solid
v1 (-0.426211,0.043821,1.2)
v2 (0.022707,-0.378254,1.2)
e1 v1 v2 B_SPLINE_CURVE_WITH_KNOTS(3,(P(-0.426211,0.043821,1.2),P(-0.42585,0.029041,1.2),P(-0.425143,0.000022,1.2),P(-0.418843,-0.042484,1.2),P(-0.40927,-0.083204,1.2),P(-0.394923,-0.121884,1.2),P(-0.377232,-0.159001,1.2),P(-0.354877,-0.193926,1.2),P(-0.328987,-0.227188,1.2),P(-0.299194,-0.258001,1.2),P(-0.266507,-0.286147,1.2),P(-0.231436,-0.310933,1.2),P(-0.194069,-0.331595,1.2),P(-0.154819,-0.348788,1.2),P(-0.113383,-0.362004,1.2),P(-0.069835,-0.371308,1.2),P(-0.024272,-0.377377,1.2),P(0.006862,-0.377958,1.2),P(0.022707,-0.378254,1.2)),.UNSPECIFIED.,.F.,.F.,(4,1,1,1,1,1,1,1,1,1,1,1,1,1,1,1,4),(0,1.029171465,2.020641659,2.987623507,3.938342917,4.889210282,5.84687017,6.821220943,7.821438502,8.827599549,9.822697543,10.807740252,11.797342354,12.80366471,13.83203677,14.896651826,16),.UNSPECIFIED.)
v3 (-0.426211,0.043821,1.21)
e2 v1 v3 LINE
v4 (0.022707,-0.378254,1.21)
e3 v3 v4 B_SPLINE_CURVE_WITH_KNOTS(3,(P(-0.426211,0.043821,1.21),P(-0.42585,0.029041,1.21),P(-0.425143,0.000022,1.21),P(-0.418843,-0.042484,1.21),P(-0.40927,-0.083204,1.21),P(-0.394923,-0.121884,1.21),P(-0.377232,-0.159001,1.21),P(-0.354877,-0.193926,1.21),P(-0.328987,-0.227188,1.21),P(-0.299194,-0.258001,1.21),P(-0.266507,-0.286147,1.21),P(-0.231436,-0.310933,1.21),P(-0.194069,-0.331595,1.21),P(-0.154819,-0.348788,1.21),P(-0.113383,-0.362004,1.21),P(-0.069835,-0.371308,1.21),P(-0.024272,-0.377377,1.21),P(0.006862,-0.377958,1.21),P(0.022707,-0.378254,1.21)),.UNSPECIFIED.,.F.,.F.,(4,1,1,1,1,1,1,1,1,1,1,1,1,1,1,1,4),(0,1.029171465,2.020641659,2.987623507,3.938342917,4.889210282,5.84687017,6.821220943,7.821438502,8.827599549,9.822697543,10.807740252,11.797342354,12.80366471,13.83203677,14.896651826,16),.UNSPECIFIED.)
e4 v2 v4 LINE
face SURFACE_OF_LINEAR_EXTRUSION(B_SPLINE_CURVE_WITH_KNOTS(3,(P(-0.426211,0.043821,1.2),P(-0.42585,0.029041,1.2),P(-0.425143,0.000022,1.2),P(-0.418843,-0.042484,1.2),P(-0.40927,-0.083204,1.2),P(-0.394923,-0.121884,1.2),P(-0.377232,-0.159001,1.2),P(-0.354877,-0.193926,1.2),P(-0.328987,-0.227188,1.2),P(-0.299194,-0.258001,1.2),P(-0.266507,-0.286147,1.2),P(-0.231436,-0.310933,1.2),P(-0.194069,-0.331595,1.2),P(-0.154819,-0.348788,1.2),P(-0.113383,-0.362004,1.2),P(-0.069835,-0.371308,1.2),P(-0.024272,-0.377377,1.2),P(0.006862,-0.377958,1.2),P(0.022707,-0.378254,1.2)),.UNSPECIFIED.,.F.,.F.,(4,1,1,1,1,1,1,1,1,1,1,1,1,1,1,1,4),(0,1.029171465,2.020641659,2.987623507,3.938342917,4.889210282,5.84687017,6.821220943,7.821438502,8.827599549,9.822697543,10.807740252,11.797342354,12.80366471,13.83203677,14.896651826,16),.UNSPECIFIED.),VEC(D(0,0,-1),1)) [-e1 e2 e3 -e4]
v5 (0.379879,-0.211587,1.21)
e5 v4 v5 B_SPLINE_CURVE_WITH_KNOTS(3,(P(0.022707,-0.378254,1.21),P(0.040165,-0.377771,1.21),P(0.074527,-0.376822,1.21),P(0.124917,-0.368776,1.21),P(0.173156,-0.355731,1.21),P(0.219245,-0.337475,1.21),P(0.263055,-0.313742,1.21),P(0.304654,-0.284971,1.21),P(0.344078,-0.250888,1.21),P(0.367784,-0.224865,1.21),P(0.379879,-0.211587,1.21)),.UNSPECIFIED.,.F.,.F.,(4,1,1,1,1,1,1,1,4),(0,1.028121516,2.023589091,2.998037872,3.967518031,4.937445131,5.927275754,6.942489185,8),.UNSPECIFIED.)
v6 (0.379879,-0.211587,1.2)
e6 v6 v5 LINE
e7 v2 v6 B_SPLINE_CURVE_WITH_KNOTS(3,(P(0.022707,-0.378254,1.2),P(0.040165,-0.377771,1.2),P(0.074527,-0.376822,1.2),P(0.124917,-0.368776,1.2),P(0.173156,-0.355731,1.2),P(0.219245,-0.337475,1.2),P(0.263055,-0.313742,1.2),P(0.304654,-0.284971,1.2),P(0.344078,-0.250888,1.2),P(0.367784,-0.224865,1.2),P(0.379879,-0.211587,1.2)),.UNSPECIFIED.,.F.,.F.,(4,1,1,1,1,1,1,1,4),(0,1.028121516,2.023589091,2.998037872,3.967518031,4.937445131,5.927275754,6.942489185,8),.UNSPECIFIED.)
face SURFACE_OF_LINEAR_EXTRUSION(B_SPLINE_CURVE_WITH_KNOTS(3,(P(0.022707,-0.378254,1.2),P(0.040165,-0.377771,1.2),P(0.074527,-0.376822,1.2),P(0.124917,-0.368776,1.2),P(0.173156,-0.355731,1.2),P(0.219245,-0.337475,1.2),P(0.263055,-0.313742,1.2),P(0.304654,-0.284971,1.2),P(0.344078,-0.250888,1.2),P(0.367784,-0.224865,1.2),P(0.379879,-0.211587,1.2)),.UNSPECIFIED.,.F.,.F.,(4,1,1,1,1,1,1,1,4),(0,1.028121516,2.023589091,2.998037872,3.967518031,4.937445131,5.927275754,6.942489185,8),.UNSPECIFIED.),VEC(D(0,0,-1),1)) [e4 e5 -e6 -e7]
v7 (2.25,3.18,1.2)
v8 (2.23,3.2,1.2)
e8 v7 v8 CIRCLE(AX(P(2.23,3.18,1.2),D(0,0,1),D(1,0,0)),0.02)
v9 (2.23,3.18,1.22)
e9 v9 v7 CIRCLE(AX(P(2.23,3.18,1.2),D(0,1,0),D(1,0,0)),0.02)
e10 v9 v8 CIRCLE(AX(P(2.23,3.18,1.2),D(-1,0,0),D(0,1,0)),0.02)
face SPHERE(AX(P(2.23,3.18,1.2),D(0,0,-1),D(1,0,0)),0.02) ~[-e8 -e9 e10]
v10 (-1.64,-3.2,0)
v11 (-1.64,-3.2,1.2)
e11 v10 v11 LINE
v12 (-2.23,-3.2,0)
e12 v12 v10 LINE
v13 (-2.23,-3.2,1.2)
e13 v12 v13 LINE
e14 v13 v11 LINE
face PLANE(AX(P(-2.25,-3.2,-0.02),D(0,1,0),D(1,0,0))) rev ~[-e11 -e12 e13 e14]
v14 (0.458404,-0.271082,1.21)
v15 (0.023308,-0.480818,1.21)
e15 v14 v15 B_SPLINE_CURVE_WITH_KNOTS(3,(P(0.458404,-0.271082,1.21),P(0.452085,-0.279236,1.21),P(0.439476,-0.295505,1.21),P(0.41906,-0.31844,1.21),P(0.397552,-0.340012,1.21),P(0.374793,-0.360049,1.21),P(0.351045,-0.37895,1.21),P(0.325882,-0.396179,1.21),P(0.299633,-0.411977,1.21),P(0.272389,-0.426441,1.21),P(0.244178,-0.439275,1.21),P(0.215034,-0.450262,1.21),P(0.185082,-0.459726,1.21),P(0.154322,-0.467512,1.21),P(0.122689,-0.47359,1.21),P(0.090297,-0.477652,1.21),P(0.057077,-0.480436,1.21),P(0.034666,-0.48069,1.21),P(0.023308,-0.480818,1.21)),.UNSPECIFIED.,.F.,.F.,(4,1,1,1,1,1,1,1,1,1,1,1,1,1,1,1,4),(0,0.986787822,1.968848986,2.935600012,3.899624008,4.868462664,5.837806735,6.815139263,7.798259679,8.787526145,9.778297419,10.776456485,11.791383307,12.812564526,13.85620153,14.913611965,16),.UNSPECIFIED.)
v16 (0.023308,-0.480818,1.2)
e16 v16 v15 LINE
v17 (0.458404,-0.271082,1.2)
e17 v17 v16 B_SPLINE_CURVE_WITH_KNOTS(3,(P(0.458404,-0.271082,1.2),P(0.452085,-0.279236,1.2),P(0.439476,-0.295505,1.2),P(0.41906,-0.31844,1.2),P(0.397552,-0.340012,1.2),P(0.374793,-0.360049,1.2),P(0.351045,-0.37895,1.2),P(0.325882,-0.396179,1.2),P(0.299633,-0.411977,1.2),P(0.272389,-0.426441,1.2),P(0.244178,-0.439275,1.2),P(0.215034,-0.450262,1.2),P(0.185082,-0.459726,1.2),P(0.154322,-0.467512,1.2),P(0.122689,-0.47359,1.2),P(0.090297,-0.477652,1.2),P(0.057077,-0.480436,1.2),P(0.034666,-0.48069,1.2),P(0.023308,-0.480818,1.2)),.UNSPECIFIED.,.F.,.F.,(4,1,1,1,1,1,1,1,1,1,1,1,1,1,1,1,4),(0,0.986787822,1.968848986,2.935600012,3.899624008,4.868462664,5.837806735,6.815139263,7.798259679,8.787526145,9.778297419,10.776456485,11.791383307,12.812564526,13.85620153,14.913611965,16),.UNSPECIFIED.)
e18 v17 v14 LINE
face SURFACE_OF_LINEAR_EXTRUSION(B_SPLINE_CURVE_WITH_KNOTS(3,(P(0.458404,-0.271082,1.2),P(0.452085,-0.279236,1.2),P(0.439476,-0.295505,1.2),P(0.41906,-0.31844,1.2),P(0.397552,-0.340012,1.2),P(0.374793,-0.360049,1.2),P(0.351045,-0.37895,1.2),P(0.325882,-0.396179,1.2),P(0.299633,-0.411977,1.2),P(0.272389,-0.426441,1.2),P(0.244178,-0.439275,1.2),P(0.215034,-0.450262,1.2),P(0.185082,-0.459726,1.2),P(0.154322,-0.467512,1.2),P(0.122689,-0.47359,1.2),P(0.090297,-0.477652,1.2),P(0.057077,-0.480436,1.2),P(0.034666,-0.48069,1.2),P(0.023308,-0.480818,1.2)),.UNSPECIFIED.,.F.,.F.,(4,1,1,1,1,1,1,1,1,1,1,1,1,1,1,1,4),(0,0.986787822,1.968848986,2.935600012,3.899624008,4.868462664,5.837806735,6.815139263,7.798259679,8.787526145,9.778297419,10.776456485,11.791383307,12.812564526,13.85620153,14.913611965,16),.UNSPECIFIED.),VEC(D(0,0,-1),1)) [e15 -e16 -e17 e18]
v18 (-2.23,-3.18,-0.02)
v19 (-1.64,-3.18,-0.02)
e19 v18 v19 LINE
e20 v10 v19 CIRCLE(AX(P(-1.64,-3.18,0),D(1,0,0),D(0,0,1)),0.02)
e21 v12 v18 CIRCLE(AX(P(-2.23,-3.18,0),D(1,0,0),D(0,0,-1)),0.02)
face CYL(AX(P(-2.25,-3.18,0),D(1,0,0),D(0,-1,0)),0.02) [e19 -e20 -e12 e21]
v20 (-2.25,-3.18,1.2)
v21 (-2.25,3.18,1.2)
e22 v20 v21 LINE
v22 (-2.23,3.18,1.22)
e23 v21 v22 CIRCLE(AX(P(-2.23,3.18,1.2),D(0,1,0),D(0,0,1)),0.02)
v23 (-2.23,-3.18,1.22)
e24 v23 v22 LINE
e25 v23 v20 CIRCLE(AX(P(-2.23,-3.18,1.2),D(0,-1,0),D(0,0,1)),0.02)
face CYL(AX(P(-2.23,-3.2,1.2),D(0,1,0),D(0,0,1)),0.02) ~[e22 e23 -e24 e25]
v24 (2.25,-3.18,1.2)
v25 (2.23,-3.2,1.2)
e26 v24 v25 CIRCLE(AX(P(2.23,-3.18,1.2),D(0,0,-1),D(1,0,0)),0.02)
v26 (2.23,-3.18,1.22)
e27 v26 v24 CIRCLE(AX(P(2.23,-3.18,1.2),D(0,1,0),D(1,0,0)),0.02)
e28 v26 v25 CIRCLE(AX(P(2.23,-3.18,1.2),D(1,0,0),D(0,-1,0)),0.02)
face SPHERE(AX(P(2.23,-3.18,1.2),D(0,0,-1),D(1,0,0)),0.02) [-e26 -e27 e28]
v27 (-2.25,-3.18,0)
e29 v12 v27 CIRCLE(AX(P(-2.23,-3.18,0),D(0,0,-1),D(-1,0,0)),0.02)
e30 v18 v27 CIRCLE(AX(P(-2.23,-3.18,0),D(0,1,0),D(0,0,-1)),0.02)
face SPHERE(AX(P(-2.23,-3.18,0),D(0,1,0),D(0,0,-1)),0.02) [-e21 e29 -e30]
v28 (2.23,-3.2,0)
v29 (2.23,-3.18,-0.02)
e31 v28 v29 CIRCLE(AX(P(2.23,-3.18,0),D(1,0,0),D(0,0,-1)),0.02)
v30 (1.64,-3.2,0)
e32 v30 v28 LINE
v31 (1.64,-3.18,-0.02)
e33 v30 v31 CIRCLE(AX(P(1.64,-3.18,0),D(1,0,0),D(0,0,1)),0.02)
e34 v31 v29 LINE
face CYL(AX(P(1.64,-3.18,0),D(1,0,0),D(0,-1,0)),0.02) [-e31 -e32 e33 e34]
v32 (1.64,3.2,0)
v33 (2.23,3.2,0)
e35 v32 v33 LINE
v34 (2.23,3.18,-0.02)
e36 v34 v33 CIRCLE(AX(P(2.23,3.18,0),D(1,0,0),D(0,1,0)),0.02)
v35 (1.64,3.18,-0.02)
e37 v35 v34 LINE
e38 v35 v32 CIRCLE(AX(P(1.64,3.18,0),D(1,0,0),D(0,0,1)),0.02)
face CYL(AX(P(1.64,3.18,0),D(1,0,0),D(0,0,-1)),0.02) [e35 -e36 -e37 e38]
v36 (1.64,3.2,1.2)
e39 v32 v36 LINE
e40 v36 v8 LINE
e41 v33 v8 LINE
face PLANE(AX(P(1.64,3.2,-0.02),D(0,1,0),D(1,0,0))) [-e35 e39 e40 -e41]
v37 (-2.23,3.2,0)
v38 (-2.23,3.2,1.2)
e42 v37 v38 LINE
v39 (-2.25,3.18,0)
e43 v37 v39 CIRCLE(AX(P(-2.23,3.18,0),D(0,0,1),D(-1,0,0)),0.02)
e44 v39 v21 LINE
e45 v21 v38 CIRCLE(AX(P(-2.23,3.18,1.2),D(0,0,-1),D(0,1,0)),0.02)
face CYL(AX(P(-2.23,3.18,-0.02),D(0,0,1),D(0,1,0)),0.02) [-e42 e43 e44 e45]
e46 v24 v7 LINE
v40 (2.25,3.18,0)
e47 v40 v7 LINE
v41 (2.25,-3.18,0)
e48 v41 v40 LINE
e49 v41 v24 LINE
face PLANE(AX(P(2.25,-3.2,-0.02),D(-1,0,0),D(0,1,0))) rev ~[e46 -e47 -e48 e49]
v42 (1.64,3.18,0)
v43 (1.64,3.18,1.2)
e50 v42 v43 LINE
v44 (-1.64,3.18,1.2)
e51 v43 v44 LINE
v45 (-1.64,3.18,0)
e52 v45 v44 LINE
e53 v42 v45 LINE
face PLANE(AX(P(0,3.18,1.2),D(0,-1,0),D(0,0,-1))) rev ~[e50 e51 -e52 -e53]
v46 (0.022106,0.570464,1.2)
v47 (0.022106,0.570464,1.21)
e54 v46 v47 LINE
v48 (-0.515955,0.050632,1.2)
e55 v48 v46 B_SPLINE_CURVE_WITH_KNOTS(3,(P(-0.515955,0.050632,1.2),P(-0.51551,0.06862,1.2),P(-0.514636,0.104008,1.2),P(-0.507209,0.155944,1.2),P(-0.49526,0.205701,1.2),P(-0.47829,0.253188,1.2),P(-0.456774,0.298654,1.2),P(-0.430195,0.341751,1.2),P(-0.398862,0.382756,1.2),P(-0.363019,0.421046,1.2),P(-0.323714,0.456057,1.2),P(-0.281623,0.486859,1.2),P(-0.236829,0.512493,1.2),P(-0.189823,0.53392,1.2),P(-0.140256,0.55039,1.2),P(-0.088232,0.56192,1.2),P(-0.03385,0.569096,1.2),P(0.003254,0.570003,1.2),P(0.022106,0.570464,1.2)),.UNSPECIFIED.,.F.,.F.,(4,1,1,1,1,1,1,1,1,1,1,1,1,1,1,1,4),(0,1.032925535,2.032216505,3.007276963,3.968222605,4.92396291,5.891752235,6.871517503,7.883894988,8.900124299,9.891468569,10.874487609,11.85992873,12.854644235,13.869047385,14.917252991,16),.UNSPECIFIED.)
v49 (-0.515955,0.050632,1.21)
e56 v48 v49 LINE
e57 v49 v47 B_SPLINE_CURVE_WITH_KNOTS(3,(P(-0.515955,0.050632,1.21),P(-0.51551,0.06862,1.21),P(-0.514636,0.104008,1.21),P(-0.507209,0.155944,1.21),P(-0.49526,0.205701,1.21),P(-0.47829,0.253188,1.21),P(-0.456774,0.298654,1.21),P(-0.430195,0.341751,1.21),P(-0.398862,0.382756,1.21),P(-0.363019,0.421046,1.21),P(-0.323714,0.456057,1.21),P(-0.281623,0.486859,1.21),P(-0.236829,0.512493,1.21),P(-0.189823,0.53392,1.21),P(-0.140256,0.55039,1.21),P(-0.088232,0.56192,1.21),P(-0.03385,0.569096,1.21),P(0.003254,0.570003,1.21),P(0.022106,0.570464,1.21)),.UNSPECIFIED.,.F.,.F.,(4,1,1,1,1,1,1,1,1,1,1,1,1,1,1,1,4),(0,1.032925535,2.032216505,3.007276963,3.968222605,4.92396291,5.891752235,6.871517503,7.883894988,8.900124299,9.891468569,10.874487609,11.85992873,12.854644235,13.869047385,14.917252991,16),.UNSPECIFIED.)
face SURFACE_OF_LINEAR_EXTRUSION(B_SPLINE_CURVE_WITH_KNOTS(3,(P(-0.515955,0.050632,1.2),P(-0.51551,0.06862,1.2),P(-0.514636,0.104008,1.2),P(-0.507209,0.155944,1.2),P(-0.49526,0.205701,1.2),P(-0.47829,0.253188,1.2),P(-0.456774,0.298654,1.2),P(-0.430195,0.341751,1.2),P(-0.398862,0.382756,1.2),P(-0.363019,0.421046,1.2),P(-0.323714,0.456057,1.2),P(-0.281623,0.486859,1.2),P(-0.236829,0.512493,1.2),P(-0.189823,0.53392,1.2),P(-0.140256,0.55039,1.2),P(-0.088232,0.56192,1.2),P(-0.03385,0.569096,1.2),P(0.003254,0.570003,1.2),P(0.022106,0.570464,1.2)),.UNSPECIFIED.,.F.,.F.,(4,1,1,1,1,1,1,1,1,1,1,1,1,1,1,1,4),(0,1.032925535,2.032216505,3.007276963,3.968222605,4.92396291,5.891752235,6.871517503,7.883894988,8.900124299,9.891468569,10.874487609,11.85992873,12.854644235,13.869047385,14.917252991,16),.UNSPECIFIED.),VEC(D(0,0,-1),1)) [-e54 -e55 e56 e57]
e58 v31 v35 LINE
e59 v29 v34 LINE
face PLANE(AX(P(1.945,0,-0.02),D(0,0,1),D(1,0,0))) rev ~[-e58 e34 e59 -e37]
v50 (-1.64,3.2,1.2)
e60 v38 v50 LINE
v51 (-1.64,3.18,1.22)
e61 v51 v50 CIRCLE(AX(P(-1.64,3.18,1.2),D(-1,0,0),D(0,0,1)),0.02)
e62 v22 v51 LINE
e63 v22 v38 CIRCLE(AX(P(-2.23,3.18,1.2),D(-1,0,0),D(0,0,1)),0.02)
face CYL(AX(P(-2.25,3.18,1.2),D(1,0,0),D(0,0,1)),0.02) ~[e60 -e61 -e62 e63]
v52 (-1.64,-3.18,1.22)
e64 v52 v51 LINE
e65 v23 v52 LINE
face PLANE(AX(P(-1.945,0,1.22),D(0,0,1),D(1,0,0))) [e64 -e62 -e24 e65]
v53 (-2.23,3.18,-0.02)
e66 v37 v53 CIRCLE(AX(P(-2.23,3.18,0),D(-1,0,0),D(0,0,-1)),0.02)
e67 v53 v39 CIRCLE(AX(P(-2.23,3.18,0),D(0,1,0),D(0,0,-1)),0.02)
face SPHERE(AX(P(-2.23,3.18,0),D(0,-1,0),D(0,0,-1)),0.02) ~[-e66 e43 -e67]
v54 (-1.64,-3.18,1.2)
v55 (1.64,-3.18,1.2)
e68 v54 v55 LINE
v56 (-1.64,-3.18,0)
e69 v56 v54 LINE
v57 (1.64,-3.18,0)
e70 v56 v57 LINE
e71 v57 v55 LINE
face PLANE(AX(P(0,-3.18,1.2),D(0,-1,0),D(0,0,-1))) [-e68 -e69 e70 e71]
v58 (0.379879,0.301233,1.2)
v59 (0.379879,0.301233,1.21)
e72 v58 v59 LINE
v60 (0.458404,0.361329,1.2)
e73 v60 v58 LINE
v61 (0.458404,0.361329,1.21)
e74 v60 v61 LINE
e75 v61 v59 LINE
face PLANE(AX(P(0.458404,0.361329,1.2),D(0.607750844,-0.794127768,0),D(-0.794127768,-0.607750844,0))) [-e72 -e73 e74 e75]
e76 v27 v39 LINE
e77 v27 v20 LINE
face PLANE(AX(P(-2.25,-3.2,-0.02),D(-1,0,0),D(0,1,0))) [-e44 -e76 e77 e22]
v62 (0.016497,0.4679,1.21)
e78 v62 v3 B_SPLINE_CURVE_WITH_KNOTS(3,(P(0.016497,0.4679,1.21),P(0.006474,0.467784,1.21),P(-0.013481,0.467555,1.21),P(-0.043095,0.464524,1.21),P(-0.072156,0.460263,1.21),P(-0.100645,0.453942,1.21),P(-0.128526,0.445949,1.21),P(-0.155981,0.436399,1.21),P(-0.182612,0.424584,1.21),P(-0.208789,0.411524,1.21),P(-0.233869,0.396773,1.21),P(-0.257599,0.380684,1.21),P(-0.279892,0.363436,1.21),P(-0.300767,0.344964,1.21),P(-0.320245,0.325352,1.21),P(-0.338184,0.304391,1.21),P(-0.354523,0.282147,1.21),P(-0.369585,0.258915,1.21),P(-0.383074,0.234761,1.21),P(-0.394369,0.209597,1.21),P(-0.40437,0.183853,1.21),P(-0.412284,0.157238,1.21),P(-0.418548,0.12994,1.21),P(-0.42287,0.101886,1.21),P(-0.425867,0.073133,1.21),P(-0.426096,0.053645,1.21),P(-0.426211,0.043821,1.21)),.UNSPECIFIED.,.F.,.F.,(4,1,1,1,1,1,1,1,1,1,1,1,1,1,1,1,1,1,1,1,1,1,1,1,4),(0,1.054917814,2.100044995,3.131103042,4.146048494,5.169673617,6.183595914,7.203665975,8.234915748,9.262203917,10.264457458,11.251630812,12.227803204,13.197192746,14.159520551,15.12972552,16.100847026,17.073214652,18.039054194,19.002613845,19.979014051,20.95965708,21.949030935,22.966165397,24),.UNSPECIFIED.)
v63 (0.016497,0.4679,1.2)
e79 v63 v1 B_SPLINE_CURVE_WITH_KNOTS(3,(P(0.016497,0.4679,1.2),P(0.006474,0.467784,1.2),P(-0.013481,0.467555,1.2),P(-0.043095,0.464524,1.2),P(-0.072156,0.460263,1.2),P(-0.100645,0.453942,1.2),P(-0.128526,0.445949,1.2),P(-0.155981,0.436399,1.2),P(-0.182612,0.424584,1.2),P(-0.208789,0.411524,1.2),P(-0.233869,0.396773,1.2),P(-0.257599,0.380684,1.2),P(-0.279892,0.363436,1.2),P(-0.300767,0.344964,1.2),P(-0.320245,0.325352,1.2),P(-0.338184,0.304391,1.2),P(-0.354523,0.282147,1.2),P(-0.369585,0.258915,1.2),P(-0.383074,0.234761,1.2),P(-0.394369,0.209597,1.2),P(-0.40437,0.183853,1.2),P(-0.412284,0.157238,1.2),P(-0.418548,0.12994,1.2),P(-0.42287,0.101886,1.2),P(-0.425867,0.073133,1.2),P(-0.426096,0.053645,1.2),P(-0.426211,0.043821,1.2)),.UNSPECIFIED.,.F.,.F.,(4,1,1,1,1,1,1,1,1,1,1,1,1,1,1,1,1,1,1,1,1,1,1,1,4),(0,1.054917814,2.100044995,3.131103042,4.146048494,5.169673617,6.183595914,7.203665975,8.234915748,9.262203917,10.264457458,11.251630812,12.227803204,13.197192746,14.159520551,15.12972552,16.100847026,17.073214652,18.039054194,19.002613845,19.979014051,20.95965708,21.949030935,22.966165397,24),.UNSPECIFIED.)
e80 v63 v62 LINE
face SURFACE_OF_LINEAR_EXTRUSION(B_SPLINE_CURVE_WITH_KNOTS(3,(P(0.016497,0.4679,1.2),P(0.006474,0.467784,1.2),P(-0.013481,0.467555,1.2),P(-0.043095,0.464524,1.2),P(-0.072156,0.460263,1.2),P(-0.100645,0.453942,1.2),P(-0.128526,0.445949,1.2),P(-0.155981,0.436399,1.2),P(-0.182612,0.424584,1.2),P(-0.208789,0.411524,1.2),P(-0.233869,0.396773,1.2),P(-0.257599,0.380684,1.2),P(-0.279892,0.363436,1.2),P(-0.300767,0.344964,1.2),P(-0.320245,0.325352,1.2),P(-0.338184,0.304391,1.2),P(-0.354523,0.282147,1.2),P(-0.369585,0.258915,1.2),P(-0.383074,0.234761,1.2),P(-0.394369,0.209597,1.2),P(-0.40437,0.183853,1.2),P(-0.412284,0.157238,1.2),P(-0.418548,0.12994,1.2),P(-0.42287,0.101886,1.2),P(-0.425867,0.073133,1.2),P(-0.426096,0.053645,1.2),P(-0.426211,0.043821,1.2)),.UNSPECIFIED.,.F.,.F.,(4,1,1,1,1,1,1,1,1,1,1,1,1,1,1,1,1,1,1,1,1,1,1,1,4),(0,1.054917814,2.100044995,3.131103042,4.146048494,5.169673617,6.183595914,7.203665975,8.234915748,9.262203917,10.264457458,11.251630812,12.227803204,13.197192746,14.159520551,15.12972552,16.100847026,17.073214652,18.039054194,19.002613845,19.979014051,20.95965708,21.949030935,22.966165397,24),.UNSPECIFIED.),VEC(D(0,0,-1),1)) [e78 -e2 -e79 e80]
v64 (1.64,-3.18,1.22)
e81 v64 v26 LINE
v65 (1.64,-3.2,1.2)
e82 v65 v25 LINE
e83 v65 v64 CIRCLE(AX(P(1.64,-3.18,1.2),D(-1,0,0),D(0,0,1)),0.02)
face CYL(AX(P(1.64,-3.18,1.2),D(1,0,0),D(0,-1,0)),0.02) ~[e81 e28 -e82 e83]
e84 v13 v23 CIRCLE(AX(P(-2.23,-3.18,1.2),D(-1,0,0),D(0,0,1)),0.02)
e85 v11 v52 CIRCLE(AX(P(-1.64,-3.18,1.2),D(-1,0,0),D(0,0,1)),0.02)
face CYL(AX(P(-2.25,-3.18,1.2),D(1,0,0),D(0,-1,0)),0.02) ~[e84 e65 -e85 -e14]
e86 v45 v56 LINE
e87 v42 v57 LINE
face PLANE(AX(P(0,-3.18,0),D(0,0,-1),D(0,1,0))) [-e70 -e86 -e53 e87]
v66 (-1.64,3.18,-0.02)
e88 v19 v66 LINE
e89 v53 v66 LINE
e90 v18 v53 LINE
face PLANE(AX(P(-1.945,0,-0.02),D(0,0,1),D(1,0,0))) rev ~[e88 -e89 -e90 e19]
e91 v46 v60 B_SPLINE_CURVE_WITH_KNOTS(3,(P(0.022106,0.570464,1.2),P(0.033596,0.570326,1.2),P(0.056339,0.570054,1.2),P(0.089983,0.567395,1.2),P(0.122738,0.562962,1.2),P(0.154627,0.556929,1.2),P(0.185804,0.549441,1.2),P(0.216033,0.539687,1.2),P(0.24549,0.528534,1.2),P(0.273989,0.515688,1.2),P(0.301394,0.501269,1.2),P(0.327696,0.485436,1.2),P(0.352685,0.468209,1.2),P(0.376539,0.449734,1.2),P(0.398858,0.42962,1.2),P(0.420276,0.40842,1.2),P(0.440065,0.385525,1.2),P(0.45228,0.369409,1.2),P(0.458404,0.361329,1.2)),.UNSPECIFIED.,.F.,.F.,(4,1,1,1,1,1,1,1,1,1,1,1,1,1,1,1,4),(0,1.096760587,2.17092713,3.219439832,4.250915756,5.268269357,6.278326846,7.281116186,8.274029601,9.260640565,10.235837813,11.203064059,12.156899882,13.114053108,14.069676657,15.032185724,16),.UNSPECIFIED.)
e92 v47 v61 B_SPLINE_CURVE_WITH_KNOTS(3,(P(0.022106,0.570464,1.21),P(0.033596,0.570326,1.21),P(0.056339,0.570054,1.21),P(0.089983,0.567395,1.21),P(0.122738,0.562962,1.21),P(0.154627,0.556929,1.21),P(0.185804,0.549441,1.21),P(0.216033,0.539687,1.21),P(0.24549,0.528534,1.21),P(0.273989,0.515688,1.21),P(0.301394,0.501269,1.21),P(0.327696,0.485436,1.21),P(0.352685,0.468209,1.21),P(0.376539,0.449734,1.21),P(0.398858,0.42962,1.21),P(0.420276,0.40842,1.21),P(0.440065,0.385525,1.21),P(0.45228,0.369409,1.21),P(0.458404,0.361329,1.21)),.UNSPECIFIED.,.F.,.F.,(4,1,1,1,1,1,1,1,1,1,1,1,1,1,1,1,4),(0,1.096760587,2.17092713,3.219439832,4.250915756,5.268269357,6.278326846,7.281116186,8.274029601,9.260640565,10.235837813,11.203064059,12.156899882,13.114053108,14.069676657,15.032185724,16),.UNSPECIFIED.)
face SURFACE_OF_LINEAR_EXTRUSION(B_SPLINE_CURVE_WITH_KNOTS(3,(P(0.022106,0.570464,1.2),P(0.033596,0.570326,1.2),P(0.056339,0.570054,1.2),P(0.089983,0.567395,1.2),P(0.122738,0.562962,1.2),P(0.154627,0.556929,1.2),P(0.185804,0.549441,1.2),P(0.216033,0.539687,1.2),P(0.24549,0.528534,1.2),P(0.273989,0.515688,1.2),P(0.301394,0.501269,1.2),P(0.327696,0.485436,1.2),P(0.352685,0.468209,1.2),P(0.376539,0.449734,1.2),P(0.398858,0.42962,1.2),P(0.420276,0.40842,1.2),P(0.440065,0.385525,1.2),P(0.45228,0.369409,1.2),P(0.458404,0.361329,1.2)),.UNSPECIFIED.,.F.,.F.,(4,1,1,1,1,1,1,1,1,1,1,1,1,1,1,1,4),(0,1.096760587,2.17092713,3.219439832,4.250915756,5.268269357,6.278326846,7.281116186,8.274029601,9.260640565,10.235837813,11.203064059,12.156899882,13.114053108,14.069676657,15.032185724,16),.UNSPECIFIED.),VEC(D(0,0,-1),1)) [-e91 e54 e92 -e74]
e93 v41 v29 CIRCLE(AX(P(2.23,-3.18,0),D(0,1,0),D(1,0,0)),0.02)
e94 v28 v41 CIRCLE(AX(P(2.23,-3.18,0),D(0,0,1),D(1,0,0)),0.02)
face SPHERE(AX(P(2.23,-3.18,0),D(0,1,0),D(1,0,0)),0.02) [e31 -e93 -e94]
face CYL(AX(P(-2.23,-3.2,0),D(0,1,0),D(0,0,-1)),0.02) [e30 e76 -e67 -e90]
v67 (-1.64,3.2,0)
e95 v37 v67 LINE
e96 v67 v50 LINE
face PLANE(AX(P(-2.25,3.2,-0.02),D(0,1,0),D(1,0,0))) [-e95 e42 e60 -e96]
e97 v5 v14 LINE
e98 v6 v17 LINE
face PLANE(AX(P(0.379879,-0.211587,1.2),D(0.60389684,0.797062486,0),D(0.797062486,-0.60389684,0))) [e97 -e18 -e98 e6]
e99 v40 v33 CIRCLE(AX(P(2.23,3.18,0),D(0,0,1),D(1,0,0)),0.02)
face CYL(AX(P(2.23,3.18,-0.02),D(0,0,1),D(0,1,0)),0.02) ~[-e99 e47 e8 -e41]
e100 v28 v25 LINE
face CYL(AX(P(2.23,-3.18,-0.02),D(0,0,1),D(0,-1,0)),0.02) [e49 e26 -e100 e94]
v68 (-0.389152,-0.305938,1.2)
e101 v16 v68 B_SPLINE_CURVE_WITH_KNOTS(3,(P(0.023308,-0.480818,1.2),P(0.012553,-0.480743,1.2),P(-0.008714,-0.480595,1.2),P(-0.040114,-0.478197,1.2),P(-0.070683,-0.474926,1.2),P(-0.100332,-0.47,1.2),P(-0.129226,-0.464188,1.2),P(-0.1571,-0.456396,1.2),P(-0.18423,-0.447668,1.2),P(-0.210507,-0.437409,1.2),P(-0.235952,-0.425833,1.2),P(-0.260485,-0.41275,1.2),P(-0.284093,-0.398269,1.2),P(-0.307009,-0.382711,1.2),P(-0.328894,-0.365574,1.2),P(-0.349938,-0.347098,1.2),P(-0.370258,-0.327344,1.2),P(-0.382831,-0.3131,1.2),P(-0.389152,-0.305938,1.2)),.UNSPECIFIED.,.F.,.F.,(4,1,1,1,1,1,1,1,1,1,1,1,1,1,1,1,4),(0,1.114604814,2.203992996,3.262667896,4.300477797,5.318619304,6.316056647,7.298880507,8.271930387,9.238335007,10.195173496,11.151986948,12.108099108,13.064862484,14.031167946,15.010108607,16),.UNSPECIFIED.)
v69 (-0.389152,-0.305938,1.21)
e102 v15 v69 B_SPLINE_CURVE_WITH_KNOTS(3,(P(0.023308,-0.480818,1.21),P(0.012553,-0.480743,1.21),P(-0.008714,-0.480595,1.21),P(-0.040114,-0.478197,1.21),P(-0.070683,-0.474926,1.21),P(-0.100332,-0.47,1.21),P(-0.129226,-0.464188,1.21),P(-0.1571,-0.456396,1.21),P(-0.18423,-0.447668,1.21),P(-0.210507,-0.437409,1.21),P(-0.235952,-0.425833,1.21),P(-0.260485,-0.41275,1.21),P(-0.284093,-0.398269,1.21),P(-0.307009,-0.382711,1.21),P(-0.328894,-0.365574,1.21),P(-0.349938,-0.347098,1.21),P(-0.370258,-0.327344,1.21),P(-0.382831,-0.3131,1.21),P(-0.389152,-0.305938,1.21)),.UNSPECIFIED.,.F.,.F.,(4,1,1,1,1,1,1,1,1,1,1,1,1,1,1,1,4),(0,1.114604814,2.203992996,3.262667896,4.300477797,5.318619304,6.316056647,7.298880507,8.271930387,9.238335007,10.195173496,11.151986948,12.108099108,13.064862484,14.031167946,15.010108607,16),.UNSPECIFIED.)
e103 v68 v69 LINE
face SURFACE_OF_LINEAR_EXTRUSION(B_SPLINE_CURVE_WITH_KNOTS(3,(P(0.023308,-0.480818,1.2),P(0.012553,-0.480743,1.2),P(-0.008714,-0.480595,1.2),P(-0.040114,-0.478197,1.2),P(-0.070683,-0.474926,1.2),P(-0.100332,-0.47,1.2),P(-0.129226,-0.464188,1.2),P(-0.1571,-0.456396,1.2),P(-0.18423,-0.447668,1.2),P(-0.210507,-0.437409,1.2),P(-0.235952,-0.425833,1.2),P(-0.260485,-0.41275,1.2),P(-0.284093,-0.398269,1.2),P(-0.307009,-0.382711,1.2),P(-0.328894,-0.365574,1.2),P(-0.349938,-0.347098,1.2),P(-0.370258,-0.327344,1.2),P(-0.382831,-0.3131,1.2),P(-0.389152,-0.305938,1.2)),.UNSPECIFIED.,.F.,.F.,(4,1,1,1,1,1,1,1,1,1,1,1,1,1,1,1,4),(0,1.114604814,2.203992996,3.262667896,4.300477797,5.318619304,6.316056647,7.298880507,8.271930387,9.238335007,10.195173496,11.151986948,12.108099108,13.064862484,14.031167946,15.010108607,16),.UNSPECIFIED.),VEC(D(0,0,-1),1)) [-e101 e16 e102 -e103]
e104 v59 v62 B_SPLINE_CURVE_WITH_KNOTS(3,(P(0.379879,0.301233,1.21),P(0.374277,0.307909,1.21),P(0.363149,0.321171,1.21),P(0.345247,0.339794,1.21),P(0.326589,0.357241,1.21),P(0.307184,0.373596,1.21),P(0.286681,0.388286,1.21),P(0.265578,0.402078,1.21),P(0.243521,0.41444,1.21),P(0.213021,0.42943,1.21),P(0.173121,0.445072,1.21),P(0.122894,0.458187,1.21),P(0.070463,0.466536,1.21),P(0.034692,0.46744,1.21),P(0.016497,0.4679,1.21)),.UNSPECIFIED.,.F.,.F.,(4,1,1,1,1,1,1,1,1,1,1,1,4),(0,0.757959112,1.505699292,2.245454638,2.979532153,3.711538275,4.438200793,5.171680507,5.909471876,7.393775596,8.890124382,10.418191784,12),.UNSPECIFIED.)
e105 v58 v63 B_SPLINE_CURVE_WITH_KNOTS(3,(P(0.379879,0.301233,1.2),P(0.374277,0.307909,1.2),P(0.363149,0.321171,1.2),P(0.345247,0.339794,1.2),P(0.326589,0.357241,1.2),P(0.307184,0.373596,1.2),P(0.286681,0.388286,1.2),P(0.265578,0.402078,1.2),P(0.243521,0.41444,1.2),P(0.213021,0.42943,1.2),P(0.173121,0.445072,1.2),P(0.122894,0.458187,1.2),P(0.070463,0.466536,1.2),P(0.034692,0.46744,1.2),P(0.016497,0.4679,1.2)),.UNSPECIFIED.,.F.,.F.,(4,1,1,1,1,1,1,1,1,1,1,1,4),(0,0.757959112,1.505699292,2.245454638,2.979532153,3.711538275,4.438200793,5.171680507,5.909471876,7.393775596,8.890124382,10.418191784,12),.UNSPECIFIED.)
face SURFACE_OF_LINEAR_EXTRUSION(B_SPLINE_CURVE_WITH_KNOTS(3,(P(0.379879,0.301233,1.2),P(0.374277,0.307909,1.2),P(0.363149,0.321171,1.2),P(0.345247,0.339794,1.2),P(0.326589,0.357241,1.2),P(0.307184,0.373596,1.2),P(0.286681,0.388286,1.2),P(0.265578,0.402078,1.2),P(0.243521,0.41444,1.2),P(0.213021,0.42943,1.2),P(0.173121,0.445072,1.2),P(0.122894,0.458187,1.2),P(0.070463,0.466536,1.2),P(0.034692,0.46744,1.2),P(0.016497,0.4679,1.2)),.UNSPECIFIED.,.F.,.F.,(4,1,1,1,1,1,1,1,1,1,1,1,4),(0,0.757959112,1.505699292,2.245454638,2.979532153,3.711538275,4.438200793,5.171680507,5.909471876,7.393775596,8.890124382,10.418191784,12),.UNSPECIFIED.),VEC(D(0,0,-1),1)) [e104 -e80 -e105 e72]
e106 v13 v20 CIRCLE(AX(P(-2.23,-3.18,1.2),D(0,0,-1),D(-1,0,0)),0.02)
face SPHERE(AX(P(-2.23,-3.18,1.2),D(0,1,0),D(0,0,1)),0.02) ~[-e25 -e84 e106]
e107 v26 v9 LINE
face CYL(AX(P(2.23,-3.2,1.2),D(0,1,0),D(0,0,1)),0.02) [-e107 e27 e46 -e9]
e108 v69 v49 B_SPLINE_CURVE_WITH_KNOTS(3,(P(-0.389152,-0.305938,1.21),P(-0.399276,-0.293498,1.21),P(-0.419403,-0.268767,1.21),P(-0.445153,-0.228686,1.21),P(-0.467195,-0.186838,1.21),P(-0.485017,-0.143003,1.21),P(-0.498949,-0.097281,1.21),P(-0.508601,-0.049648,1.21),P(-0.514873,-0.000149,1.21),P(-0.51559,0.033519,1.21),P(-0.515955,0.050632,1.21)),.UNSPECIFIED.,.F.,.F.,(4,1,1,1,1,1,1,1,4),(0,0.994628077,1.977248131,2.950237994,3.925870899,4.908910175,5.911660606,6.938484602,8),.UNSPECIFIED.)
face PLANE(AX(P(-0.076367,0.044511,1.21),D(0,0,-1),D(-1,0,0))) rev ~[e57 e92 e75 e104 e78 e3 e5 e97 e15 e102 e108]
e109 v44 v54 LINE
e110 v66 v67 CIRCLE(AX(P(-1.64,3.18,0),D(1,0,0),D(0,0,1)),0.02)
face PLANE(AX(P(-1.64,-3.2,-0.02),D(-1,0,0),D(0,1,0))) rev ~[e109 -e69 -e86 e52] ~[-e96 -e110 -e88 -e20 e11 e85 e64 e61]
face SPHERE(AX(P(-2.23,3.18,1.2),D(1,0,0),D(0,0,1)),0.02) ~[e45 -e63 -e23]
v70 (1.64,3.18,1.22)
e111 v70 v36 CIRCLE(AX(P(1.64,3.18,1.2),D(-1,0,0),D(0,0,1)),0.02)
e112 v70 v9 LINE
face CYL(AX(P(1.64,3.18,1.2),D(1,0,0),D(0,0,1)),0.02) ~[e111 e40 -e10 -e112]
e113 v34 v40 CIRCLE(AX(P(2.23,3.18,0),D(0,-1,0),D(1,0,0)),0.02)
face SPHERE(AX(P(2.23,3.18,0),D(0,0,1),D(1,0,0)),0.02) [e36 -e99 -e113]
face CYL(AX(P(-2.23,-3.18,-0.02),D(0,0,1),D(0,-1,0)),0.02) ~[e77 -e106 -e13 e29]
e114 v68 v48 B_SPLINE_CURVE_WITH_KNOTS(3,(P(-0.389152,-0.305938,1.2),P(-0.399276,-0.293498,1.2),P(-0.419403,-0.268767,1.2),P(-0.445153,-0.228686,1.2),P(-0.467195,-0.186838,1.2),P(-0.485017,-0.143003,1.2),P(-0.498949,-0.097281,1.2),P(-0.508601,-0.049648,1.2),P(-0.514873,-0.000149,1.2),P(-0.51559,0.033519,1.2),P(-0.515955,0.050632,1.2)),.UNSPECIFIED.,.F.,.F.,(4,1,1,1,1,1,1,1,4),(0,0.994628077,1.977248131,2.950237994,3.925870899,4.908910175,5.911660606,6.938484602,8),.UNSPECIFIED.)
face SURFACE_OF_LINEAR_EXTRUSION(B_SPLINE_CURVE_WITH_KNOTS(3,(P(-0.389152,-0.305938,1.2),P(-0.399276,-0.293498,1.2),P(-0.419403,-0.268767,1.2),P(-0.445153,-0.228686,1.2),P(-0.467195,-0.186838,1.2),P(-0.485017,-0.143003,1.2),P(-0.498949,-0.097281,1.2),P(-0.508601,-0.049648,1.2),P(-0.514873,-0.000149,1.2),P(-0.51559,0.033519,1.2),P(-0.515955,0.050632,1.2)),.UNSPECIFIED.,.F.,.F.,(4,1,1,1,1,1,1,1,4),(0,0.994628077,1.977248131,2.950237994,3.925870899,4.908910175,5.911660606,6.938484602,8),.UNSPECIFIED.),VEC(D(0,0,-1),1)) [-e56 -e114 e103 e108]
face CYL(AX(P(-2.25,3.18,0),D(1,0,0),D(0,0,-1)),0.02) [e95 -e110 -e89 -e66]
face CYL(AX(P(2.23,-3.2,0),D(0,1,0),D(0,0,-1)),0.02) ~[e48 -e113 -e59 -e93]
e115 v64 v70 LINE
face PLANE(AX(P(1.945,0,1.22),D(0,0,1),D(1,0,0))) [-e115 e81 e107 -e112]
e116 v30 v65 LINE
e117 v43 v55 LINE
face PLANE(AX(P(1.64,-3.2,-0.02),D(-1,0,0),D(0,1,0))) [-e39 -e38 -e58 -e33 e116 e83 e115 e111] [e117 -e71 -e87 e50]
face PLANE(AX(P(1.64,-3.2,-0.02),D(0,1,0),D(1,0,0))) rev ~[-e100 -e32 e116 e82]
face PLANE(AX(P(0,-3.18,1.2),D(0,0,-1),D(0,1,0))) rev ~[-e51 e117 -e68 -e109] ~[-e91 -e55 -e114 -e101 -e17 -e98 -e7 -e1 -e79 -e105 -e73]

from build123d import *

# Parameters (mm, degrees)
EXTRUDE_1_DEPTH        = 1.22
EXTRUDE_1_DEPTH_BACK   = 0.02
SKETCH_3_W             = 0.61
SKETCH_3_H             = 6.4
EXTRUDE_1_2_DEPTH      = 1.22
EXTRUDE_1_2_DEPTH_BACK = 0.02
SKETCH_5_W             = 1.2
SKETCH_5_H             = 6.36
EXTRUDE_3_DEPTH        = 1.66
FILLET_3_R             = 0.02
EXTRUDE_4_DEPTH        = 0.01


with BuildPart() as part:
    # 草图3 → 凸台-拉伸1 (new, two sides: drawn at the far end of the back side and taken through both)
    with BuildSketch(Plane.XY.offset(-EXTRUDE_1_DEPTH_BACK)):
        with Locations((-1.945, 0)):
            Rectangle(SKETCH_3_W, SKETCH_3_H)
    extrude(amount=EXTRUDE_1_DEPTH + EXTRUDE_1_DEPTH_BACK)



with BuildPart() as body_2:
    # 草图3 → Extrude 1 2 (new, two sides: drawn at the far end of the back side and taken through both)
    with BuildSketch(Plane.XY.offset(-EXTRUDE_1_2_DEPTH_BACK)):
        with Locations((1.945, 0)):
            Rectangle(SKETCH_3_W, SKETCH_3_H)
    extrude(amount=EXTRUDE_1_2_DEPTH + EXTRUDE_1_2_DEPTH_BACK)


with BuildPart() as part_1:
    add(part.part)

    add(body_2.part)  # 凸台-拉伸3 merges body 2
    # 草图5 → 凸台-拉伸3 (add, symmetric)
    with BuildSketch(Plane(origin=(0, 0, 0), x_dir=(0, 0, -1), z_dir=(1, 0, 0))):
        with Locations((-0.6, 0)):
            Rectangle(SKETCH_5_W, SKETCH_5_H)
    extrude(amount=EXTRUDE_3_DEPTH, both=True)

    # 圆角3
    fillet_3_edges = [part_1.edges().sort_by_distance(p)[0] for p in [
        (-2.25, 0, -0.02),
        (-1.945, 3.2, 1.22),
        (-1.945, -3.2, -0.02),
        (-2.25, 0, 1.22),
        (-1.945, -3.2, 1.22),
        (2.25, 3.2, 0.6),
        (2.25, 0, -0.02),
        (2.25, -3.2, 0.6),
        (1.945, -3.2, -0.02),
        (1.945, 3.2, -0.02),
        (2.25, 0, 1.22),
        (1.945, 3.2, 1.22),
        (1.945, -3.2, 1.22),
        (-1.945, 3.2, -0.02),
        (-2.25, -3.2, 0.6),
        (-2.25, 3.2, 0.6),
    ]]
    fillet(fillet_3_edges, radius=FILLET_3_R)

    # 草图6 → 凸台-拉伸4 (add)
    with BuildSketch(Plane.XY.offset(1.2)):
        with BuildLine():
            Line((0.458404382, 0.361329361), (0.379878741, 0.301233207))
            add(Edge.make_bspline(
                [(0.379878741, 0.301233207), (0.374277059, 0.307909199), (0.363149217, 0.321171175), (0.345246588, 0.339793902), (0.326588975, 0.357241119), (0.307183512, 0.373595942), (0.286680907, 0.388286446), (0.265577821, 0.40207819), (0.243521237, 0.414440401), (0.213020741, 0.429429826), (0.173121356, 0.445071584), (0.122894259, 0.458186793), (0.070462517, 0.4665357), (0.034691774, 0.467439941), (0.016497331, 0.467899874)],
                knots=[0, 0, 0, 0, 0.757959112, 1.505699292, 2.245454638, 2.979532153, 3.711538275, 4.438200793, 5.171680507, 5.909471876, 7.393775596, 8.890124382, 10.418191784, 12, 12, 12, 12], degree=3))
            add(Edge.make_bspline(
                [(0.016497331, 0.467899874), (0.006473531, 0.467784456), (-0.013481038, 0.467554692), (-0.043094888, 0.464523513), (-0.072155759, 0.460263167), (-0.10064475, 0.453941646), (-0.128525595, 0.445949469), (-0.155980567, 0.436399351), (-0.182612167, 0.424583683), (-0.208788806, 0.41152418), (-0.233868581, 0.396773481), (-0.257598595, 0.380683952), (-0.2798923, 0.363435639), (-0.300767332, 0.344963894), (-0.320245031, 0.325351906), (-0.338184263, 0.304390665), (-0.354522952, 0.282147187), (-0.369584959, 0.258914785), (-0.383074311, 0.23476113), (-0.394368562, 0.209596824), (-0.404370026, 0.183852795), (-0.412284095, 0.157238177), (-0.418548243, 0.129940244), (-0.422870432, 0.101885733), (-0.425867138, 0.073133254), (-0.42609576, 0.053644879), (-0.426211002, 0.043821348)],
                knots=[0, 0, 0, 0, 1.054917814, 2.100044995, 3.131103042, 4.146048494, 5.169673617, 6.183595914, 7.203665975, 8.234915748, 9.262203917, 10.264457458, 11.251630812, 12.227803204, 13.197192746, 14.159520551, 15.12972552, 16.100847026, 17.073214652, 18.039054194, 19.002613845, 19.979014051, 20.95965708, 21.949030935, 22.966165397, 24, 24, 24, 24], degree=3))
            add(Edge.make_bspline(
                [(-0.426211002, 0.043821348), (-0.425850483, 0.029040971), (-0.42514265, 2.1661e-05), (-0.418843126, -0.042484227), (-0.409270243, -0.08320442), (-0.394922935, -0.121884375), (-0.377231778, -0.159001049), (-0.354877317, -0.193926435), (-0.328986878, -0.227188311), (-0.299194187, -0.258000582), (-0.266506811, -0.28614736), (-0.231435979, -0.310933241), (-0.194069039, -0.331594636), (-0.154818574, -0.348787763), (-0.113382541, -0.362003971), (-0.069835455, -0.371308006), (-0.024272027, -0.377377201), (0.006862087, -0.377958255), (0.022707267, -0.378253972)],
                knots=[0, 0, 0, 0, 1.029171465, 2.020641659, 2.987623507, 3.938342917, 4.889210282, 5.84687017, 6.821220943, 7.821438502, 8.827599549, 9.822697543, 10.807740252, 11.797342354, 12.80366471, 13.83203677, 14.896651826, 16, 16, 16, 16], degree=3))
            add(Edge.make_bspline(
                [(0.022707267, -0.378253972), (0.040165178, -0.377771464), (0.074526524, -0.376821771), (0.124917388, -0.368776272), (0.173156178, -0.355731152), (0.219245489, -0.337474603), (0.263055388, -0.313741664), (0.304654434, -0.284970842), (0.344077739, -0.250888461), (0.36778382, -0.22486471), (0.379878741, -0.211587305)],
                knots=[0, 0, 0, 0, 1.028121516, 2.023589091, 2.998037872, 3.967518031, 4.937445131, 5.927275754, 6.942489185, 8, 8, 8, 8], degree=3))
            Line((0.379878741, -0.211587305), (0.458404382, -0.271082498))
            add(Edge.make_bspline(
                [(0.458404382, -0.271082498), (0.452084922, -0.279236341), (0.439476272, -0.295504972), (0.419059696, -0.318439746), (0.397551897, -0.340012327), (0.374793123, -0.360048791), (0.351045182, -0.378950066), (0.325881664, -0.396179161), (0.299633369, -0.411976557), (0.272389232, -0.426441392), (0.2441782, -0.439274891), (0.215034076, -0.450261682), (0.185082483, -0.459725936), (0.154322052, -0.467512204), (0.122688979, -0.473589656), (0.090297415, -0.477652421), (0.05707745, -0.480435825), (0.034665616, -0.480689515), (0.023308229, -0.480818075)],
                knots=[0, 0, 0, 0, 0.986787822, 1.968848986, 2.935600012, 3.899624008, 4.868462664, 5.837806735, 6.815139263, 7.798259679, 8.787526145, 9.778297419, 10.776456485, 11.791383307, 12.812564526, 13.85620153, 14.913611965, 16, 16, 16, 16], degree=3))
            add(Edge.make_bspline(
                [(0.023308229, -0.480818075), (0.012552895, -0.48074322), (-0.008714445, -0.480595203), (-0.040114088, -0.478197441), (-0.07068254, -0.474926088), (-0.100332433, -0.470000336), (-0.129225569, -0.464187667), (-0.157100021, -0.45639588), (-0.184230082, -0.447667546), (-0.21050675, -0.437408979), (-0.235952379, -0.425832927), (-0.260484896, -0.412749624), (-0.28409302, -0.398269091), (-0.307008854, -0.382710517), (-0.328893878, -0.365574145), (-0.349937743, -0.347097964), (-0.37025845, -0.327344246), (-0.382830646, -0.313100002), (-0.389151707, -0.305938267)],
                knots=[0, 0, 0, 0, 1.114604814, 2.203992996, 3.262667896, 4.300477797, 5.318619304, 6.316056647, 7.298880507, 8.271930387, 9.238335007, 10.195173496, 11.151986948, 12.108099108, 13.064862484, 14.031167946, 15.010108607, 16, 16, 16, 16], degree=3))
            add(Edge.make_bspline(
                [(-0.389151707, -0.305938267), (-0.399276177, -0.293497927), (-0.419402885, -0.268767439), (-0.44515308, -0.22868573), (-0.467195239, -0.18683767), (-0.48501693, -0.143003405), (-0.49894914, -0.097281294), (-0.50860091, -0.04964829), (-0.514872797, -0.000148878), (-0.515590022, 0.033518776), (-0.515954592, 0.050632246)],
                knots=[0, 0, 0, 0, 0.994628077, 1.977248131, 2.950237994, 3.925870899, 4.908910175, 5.911660606, 6.938484602, 8, 8, 8, 8], degree=3))
            add(Edge.make_bspline(
                [(-0.515954592, 0.050632246), (-0.515510251, 0.068619518), (-0.514636038, 0.104008354), (-0.507208668, 0.155943769), (-0.49526044, 0.205701312), (-0.478289901, 0.253188096), (-0.456774086, 0.29865389), (-0.430195053, 0.341751377), (-0.398861584, 0.382756177), (-0.363019422, 0.421046106), (-0.323714469, 0.45605735), (-0.281623379, 0.486859122), (-0.236828537, 0.512492698), (-0.189823437, 0.533920173), (-0.140256099, 0.55039002), (-0.08823228, 0.561919502), (-0.033849732, 0.569095821), (0.003253818, 0.570003023), (0.022106305, 0.570463977)],
                knots=[0, 0, 0, 0, 1.032925535, 2.032216505, 3.007276963, 3.968222605, 4.92396291, 5.891752235, 6.871517503, 7.883894988, 8.900124299, 9.891468569, 10.874487609, 11.85992873, 12.854644235, 13.869047385, 14.917252991, 16, 16, 16, 16], degree=3))
            add(Edge.make_bspline(
                [(0.022106305, 0.570463977), (0.033596155, 0.570326223), (0.056339154, 0.570053553), (0.089982769, 0.567394655), (0.122737719, 0.562962196), (0.154626571, 0.556929034), (0.185804462, 0.549441228), (0.216033102, 0.539686857), (0.24548987, 0.528533562), (0.273988986, 0.515688286), (0.301393715, 0.501269217), (0.32769552, 0.485436182), (0.35268548, 0.468208809), (0.376539436, 0.449733616), (0.398858354, 0.429619742), (0.420275919, 0.408420428), (0.440064799, 0.38552505), (0.452279997, 0.369409355), (0.458404382, 0.361329361)],
                knots=[0, 0, 0, 0, 1.096760587, 2.17092713, 3.219439832, 4.250915756, 5.268269357, 6.278326846, 7.281116186, 8.274029601, 9.260640565, 10.235837813, 11.203064059, 12.156899882, 13.114053108, 14.069676657, 15.032185724, 16, 16, 16, 16], degree=3))
        make_face()
    extrude(amount=EXTRUDE_4_DEPTH)


solid = part_1.part
